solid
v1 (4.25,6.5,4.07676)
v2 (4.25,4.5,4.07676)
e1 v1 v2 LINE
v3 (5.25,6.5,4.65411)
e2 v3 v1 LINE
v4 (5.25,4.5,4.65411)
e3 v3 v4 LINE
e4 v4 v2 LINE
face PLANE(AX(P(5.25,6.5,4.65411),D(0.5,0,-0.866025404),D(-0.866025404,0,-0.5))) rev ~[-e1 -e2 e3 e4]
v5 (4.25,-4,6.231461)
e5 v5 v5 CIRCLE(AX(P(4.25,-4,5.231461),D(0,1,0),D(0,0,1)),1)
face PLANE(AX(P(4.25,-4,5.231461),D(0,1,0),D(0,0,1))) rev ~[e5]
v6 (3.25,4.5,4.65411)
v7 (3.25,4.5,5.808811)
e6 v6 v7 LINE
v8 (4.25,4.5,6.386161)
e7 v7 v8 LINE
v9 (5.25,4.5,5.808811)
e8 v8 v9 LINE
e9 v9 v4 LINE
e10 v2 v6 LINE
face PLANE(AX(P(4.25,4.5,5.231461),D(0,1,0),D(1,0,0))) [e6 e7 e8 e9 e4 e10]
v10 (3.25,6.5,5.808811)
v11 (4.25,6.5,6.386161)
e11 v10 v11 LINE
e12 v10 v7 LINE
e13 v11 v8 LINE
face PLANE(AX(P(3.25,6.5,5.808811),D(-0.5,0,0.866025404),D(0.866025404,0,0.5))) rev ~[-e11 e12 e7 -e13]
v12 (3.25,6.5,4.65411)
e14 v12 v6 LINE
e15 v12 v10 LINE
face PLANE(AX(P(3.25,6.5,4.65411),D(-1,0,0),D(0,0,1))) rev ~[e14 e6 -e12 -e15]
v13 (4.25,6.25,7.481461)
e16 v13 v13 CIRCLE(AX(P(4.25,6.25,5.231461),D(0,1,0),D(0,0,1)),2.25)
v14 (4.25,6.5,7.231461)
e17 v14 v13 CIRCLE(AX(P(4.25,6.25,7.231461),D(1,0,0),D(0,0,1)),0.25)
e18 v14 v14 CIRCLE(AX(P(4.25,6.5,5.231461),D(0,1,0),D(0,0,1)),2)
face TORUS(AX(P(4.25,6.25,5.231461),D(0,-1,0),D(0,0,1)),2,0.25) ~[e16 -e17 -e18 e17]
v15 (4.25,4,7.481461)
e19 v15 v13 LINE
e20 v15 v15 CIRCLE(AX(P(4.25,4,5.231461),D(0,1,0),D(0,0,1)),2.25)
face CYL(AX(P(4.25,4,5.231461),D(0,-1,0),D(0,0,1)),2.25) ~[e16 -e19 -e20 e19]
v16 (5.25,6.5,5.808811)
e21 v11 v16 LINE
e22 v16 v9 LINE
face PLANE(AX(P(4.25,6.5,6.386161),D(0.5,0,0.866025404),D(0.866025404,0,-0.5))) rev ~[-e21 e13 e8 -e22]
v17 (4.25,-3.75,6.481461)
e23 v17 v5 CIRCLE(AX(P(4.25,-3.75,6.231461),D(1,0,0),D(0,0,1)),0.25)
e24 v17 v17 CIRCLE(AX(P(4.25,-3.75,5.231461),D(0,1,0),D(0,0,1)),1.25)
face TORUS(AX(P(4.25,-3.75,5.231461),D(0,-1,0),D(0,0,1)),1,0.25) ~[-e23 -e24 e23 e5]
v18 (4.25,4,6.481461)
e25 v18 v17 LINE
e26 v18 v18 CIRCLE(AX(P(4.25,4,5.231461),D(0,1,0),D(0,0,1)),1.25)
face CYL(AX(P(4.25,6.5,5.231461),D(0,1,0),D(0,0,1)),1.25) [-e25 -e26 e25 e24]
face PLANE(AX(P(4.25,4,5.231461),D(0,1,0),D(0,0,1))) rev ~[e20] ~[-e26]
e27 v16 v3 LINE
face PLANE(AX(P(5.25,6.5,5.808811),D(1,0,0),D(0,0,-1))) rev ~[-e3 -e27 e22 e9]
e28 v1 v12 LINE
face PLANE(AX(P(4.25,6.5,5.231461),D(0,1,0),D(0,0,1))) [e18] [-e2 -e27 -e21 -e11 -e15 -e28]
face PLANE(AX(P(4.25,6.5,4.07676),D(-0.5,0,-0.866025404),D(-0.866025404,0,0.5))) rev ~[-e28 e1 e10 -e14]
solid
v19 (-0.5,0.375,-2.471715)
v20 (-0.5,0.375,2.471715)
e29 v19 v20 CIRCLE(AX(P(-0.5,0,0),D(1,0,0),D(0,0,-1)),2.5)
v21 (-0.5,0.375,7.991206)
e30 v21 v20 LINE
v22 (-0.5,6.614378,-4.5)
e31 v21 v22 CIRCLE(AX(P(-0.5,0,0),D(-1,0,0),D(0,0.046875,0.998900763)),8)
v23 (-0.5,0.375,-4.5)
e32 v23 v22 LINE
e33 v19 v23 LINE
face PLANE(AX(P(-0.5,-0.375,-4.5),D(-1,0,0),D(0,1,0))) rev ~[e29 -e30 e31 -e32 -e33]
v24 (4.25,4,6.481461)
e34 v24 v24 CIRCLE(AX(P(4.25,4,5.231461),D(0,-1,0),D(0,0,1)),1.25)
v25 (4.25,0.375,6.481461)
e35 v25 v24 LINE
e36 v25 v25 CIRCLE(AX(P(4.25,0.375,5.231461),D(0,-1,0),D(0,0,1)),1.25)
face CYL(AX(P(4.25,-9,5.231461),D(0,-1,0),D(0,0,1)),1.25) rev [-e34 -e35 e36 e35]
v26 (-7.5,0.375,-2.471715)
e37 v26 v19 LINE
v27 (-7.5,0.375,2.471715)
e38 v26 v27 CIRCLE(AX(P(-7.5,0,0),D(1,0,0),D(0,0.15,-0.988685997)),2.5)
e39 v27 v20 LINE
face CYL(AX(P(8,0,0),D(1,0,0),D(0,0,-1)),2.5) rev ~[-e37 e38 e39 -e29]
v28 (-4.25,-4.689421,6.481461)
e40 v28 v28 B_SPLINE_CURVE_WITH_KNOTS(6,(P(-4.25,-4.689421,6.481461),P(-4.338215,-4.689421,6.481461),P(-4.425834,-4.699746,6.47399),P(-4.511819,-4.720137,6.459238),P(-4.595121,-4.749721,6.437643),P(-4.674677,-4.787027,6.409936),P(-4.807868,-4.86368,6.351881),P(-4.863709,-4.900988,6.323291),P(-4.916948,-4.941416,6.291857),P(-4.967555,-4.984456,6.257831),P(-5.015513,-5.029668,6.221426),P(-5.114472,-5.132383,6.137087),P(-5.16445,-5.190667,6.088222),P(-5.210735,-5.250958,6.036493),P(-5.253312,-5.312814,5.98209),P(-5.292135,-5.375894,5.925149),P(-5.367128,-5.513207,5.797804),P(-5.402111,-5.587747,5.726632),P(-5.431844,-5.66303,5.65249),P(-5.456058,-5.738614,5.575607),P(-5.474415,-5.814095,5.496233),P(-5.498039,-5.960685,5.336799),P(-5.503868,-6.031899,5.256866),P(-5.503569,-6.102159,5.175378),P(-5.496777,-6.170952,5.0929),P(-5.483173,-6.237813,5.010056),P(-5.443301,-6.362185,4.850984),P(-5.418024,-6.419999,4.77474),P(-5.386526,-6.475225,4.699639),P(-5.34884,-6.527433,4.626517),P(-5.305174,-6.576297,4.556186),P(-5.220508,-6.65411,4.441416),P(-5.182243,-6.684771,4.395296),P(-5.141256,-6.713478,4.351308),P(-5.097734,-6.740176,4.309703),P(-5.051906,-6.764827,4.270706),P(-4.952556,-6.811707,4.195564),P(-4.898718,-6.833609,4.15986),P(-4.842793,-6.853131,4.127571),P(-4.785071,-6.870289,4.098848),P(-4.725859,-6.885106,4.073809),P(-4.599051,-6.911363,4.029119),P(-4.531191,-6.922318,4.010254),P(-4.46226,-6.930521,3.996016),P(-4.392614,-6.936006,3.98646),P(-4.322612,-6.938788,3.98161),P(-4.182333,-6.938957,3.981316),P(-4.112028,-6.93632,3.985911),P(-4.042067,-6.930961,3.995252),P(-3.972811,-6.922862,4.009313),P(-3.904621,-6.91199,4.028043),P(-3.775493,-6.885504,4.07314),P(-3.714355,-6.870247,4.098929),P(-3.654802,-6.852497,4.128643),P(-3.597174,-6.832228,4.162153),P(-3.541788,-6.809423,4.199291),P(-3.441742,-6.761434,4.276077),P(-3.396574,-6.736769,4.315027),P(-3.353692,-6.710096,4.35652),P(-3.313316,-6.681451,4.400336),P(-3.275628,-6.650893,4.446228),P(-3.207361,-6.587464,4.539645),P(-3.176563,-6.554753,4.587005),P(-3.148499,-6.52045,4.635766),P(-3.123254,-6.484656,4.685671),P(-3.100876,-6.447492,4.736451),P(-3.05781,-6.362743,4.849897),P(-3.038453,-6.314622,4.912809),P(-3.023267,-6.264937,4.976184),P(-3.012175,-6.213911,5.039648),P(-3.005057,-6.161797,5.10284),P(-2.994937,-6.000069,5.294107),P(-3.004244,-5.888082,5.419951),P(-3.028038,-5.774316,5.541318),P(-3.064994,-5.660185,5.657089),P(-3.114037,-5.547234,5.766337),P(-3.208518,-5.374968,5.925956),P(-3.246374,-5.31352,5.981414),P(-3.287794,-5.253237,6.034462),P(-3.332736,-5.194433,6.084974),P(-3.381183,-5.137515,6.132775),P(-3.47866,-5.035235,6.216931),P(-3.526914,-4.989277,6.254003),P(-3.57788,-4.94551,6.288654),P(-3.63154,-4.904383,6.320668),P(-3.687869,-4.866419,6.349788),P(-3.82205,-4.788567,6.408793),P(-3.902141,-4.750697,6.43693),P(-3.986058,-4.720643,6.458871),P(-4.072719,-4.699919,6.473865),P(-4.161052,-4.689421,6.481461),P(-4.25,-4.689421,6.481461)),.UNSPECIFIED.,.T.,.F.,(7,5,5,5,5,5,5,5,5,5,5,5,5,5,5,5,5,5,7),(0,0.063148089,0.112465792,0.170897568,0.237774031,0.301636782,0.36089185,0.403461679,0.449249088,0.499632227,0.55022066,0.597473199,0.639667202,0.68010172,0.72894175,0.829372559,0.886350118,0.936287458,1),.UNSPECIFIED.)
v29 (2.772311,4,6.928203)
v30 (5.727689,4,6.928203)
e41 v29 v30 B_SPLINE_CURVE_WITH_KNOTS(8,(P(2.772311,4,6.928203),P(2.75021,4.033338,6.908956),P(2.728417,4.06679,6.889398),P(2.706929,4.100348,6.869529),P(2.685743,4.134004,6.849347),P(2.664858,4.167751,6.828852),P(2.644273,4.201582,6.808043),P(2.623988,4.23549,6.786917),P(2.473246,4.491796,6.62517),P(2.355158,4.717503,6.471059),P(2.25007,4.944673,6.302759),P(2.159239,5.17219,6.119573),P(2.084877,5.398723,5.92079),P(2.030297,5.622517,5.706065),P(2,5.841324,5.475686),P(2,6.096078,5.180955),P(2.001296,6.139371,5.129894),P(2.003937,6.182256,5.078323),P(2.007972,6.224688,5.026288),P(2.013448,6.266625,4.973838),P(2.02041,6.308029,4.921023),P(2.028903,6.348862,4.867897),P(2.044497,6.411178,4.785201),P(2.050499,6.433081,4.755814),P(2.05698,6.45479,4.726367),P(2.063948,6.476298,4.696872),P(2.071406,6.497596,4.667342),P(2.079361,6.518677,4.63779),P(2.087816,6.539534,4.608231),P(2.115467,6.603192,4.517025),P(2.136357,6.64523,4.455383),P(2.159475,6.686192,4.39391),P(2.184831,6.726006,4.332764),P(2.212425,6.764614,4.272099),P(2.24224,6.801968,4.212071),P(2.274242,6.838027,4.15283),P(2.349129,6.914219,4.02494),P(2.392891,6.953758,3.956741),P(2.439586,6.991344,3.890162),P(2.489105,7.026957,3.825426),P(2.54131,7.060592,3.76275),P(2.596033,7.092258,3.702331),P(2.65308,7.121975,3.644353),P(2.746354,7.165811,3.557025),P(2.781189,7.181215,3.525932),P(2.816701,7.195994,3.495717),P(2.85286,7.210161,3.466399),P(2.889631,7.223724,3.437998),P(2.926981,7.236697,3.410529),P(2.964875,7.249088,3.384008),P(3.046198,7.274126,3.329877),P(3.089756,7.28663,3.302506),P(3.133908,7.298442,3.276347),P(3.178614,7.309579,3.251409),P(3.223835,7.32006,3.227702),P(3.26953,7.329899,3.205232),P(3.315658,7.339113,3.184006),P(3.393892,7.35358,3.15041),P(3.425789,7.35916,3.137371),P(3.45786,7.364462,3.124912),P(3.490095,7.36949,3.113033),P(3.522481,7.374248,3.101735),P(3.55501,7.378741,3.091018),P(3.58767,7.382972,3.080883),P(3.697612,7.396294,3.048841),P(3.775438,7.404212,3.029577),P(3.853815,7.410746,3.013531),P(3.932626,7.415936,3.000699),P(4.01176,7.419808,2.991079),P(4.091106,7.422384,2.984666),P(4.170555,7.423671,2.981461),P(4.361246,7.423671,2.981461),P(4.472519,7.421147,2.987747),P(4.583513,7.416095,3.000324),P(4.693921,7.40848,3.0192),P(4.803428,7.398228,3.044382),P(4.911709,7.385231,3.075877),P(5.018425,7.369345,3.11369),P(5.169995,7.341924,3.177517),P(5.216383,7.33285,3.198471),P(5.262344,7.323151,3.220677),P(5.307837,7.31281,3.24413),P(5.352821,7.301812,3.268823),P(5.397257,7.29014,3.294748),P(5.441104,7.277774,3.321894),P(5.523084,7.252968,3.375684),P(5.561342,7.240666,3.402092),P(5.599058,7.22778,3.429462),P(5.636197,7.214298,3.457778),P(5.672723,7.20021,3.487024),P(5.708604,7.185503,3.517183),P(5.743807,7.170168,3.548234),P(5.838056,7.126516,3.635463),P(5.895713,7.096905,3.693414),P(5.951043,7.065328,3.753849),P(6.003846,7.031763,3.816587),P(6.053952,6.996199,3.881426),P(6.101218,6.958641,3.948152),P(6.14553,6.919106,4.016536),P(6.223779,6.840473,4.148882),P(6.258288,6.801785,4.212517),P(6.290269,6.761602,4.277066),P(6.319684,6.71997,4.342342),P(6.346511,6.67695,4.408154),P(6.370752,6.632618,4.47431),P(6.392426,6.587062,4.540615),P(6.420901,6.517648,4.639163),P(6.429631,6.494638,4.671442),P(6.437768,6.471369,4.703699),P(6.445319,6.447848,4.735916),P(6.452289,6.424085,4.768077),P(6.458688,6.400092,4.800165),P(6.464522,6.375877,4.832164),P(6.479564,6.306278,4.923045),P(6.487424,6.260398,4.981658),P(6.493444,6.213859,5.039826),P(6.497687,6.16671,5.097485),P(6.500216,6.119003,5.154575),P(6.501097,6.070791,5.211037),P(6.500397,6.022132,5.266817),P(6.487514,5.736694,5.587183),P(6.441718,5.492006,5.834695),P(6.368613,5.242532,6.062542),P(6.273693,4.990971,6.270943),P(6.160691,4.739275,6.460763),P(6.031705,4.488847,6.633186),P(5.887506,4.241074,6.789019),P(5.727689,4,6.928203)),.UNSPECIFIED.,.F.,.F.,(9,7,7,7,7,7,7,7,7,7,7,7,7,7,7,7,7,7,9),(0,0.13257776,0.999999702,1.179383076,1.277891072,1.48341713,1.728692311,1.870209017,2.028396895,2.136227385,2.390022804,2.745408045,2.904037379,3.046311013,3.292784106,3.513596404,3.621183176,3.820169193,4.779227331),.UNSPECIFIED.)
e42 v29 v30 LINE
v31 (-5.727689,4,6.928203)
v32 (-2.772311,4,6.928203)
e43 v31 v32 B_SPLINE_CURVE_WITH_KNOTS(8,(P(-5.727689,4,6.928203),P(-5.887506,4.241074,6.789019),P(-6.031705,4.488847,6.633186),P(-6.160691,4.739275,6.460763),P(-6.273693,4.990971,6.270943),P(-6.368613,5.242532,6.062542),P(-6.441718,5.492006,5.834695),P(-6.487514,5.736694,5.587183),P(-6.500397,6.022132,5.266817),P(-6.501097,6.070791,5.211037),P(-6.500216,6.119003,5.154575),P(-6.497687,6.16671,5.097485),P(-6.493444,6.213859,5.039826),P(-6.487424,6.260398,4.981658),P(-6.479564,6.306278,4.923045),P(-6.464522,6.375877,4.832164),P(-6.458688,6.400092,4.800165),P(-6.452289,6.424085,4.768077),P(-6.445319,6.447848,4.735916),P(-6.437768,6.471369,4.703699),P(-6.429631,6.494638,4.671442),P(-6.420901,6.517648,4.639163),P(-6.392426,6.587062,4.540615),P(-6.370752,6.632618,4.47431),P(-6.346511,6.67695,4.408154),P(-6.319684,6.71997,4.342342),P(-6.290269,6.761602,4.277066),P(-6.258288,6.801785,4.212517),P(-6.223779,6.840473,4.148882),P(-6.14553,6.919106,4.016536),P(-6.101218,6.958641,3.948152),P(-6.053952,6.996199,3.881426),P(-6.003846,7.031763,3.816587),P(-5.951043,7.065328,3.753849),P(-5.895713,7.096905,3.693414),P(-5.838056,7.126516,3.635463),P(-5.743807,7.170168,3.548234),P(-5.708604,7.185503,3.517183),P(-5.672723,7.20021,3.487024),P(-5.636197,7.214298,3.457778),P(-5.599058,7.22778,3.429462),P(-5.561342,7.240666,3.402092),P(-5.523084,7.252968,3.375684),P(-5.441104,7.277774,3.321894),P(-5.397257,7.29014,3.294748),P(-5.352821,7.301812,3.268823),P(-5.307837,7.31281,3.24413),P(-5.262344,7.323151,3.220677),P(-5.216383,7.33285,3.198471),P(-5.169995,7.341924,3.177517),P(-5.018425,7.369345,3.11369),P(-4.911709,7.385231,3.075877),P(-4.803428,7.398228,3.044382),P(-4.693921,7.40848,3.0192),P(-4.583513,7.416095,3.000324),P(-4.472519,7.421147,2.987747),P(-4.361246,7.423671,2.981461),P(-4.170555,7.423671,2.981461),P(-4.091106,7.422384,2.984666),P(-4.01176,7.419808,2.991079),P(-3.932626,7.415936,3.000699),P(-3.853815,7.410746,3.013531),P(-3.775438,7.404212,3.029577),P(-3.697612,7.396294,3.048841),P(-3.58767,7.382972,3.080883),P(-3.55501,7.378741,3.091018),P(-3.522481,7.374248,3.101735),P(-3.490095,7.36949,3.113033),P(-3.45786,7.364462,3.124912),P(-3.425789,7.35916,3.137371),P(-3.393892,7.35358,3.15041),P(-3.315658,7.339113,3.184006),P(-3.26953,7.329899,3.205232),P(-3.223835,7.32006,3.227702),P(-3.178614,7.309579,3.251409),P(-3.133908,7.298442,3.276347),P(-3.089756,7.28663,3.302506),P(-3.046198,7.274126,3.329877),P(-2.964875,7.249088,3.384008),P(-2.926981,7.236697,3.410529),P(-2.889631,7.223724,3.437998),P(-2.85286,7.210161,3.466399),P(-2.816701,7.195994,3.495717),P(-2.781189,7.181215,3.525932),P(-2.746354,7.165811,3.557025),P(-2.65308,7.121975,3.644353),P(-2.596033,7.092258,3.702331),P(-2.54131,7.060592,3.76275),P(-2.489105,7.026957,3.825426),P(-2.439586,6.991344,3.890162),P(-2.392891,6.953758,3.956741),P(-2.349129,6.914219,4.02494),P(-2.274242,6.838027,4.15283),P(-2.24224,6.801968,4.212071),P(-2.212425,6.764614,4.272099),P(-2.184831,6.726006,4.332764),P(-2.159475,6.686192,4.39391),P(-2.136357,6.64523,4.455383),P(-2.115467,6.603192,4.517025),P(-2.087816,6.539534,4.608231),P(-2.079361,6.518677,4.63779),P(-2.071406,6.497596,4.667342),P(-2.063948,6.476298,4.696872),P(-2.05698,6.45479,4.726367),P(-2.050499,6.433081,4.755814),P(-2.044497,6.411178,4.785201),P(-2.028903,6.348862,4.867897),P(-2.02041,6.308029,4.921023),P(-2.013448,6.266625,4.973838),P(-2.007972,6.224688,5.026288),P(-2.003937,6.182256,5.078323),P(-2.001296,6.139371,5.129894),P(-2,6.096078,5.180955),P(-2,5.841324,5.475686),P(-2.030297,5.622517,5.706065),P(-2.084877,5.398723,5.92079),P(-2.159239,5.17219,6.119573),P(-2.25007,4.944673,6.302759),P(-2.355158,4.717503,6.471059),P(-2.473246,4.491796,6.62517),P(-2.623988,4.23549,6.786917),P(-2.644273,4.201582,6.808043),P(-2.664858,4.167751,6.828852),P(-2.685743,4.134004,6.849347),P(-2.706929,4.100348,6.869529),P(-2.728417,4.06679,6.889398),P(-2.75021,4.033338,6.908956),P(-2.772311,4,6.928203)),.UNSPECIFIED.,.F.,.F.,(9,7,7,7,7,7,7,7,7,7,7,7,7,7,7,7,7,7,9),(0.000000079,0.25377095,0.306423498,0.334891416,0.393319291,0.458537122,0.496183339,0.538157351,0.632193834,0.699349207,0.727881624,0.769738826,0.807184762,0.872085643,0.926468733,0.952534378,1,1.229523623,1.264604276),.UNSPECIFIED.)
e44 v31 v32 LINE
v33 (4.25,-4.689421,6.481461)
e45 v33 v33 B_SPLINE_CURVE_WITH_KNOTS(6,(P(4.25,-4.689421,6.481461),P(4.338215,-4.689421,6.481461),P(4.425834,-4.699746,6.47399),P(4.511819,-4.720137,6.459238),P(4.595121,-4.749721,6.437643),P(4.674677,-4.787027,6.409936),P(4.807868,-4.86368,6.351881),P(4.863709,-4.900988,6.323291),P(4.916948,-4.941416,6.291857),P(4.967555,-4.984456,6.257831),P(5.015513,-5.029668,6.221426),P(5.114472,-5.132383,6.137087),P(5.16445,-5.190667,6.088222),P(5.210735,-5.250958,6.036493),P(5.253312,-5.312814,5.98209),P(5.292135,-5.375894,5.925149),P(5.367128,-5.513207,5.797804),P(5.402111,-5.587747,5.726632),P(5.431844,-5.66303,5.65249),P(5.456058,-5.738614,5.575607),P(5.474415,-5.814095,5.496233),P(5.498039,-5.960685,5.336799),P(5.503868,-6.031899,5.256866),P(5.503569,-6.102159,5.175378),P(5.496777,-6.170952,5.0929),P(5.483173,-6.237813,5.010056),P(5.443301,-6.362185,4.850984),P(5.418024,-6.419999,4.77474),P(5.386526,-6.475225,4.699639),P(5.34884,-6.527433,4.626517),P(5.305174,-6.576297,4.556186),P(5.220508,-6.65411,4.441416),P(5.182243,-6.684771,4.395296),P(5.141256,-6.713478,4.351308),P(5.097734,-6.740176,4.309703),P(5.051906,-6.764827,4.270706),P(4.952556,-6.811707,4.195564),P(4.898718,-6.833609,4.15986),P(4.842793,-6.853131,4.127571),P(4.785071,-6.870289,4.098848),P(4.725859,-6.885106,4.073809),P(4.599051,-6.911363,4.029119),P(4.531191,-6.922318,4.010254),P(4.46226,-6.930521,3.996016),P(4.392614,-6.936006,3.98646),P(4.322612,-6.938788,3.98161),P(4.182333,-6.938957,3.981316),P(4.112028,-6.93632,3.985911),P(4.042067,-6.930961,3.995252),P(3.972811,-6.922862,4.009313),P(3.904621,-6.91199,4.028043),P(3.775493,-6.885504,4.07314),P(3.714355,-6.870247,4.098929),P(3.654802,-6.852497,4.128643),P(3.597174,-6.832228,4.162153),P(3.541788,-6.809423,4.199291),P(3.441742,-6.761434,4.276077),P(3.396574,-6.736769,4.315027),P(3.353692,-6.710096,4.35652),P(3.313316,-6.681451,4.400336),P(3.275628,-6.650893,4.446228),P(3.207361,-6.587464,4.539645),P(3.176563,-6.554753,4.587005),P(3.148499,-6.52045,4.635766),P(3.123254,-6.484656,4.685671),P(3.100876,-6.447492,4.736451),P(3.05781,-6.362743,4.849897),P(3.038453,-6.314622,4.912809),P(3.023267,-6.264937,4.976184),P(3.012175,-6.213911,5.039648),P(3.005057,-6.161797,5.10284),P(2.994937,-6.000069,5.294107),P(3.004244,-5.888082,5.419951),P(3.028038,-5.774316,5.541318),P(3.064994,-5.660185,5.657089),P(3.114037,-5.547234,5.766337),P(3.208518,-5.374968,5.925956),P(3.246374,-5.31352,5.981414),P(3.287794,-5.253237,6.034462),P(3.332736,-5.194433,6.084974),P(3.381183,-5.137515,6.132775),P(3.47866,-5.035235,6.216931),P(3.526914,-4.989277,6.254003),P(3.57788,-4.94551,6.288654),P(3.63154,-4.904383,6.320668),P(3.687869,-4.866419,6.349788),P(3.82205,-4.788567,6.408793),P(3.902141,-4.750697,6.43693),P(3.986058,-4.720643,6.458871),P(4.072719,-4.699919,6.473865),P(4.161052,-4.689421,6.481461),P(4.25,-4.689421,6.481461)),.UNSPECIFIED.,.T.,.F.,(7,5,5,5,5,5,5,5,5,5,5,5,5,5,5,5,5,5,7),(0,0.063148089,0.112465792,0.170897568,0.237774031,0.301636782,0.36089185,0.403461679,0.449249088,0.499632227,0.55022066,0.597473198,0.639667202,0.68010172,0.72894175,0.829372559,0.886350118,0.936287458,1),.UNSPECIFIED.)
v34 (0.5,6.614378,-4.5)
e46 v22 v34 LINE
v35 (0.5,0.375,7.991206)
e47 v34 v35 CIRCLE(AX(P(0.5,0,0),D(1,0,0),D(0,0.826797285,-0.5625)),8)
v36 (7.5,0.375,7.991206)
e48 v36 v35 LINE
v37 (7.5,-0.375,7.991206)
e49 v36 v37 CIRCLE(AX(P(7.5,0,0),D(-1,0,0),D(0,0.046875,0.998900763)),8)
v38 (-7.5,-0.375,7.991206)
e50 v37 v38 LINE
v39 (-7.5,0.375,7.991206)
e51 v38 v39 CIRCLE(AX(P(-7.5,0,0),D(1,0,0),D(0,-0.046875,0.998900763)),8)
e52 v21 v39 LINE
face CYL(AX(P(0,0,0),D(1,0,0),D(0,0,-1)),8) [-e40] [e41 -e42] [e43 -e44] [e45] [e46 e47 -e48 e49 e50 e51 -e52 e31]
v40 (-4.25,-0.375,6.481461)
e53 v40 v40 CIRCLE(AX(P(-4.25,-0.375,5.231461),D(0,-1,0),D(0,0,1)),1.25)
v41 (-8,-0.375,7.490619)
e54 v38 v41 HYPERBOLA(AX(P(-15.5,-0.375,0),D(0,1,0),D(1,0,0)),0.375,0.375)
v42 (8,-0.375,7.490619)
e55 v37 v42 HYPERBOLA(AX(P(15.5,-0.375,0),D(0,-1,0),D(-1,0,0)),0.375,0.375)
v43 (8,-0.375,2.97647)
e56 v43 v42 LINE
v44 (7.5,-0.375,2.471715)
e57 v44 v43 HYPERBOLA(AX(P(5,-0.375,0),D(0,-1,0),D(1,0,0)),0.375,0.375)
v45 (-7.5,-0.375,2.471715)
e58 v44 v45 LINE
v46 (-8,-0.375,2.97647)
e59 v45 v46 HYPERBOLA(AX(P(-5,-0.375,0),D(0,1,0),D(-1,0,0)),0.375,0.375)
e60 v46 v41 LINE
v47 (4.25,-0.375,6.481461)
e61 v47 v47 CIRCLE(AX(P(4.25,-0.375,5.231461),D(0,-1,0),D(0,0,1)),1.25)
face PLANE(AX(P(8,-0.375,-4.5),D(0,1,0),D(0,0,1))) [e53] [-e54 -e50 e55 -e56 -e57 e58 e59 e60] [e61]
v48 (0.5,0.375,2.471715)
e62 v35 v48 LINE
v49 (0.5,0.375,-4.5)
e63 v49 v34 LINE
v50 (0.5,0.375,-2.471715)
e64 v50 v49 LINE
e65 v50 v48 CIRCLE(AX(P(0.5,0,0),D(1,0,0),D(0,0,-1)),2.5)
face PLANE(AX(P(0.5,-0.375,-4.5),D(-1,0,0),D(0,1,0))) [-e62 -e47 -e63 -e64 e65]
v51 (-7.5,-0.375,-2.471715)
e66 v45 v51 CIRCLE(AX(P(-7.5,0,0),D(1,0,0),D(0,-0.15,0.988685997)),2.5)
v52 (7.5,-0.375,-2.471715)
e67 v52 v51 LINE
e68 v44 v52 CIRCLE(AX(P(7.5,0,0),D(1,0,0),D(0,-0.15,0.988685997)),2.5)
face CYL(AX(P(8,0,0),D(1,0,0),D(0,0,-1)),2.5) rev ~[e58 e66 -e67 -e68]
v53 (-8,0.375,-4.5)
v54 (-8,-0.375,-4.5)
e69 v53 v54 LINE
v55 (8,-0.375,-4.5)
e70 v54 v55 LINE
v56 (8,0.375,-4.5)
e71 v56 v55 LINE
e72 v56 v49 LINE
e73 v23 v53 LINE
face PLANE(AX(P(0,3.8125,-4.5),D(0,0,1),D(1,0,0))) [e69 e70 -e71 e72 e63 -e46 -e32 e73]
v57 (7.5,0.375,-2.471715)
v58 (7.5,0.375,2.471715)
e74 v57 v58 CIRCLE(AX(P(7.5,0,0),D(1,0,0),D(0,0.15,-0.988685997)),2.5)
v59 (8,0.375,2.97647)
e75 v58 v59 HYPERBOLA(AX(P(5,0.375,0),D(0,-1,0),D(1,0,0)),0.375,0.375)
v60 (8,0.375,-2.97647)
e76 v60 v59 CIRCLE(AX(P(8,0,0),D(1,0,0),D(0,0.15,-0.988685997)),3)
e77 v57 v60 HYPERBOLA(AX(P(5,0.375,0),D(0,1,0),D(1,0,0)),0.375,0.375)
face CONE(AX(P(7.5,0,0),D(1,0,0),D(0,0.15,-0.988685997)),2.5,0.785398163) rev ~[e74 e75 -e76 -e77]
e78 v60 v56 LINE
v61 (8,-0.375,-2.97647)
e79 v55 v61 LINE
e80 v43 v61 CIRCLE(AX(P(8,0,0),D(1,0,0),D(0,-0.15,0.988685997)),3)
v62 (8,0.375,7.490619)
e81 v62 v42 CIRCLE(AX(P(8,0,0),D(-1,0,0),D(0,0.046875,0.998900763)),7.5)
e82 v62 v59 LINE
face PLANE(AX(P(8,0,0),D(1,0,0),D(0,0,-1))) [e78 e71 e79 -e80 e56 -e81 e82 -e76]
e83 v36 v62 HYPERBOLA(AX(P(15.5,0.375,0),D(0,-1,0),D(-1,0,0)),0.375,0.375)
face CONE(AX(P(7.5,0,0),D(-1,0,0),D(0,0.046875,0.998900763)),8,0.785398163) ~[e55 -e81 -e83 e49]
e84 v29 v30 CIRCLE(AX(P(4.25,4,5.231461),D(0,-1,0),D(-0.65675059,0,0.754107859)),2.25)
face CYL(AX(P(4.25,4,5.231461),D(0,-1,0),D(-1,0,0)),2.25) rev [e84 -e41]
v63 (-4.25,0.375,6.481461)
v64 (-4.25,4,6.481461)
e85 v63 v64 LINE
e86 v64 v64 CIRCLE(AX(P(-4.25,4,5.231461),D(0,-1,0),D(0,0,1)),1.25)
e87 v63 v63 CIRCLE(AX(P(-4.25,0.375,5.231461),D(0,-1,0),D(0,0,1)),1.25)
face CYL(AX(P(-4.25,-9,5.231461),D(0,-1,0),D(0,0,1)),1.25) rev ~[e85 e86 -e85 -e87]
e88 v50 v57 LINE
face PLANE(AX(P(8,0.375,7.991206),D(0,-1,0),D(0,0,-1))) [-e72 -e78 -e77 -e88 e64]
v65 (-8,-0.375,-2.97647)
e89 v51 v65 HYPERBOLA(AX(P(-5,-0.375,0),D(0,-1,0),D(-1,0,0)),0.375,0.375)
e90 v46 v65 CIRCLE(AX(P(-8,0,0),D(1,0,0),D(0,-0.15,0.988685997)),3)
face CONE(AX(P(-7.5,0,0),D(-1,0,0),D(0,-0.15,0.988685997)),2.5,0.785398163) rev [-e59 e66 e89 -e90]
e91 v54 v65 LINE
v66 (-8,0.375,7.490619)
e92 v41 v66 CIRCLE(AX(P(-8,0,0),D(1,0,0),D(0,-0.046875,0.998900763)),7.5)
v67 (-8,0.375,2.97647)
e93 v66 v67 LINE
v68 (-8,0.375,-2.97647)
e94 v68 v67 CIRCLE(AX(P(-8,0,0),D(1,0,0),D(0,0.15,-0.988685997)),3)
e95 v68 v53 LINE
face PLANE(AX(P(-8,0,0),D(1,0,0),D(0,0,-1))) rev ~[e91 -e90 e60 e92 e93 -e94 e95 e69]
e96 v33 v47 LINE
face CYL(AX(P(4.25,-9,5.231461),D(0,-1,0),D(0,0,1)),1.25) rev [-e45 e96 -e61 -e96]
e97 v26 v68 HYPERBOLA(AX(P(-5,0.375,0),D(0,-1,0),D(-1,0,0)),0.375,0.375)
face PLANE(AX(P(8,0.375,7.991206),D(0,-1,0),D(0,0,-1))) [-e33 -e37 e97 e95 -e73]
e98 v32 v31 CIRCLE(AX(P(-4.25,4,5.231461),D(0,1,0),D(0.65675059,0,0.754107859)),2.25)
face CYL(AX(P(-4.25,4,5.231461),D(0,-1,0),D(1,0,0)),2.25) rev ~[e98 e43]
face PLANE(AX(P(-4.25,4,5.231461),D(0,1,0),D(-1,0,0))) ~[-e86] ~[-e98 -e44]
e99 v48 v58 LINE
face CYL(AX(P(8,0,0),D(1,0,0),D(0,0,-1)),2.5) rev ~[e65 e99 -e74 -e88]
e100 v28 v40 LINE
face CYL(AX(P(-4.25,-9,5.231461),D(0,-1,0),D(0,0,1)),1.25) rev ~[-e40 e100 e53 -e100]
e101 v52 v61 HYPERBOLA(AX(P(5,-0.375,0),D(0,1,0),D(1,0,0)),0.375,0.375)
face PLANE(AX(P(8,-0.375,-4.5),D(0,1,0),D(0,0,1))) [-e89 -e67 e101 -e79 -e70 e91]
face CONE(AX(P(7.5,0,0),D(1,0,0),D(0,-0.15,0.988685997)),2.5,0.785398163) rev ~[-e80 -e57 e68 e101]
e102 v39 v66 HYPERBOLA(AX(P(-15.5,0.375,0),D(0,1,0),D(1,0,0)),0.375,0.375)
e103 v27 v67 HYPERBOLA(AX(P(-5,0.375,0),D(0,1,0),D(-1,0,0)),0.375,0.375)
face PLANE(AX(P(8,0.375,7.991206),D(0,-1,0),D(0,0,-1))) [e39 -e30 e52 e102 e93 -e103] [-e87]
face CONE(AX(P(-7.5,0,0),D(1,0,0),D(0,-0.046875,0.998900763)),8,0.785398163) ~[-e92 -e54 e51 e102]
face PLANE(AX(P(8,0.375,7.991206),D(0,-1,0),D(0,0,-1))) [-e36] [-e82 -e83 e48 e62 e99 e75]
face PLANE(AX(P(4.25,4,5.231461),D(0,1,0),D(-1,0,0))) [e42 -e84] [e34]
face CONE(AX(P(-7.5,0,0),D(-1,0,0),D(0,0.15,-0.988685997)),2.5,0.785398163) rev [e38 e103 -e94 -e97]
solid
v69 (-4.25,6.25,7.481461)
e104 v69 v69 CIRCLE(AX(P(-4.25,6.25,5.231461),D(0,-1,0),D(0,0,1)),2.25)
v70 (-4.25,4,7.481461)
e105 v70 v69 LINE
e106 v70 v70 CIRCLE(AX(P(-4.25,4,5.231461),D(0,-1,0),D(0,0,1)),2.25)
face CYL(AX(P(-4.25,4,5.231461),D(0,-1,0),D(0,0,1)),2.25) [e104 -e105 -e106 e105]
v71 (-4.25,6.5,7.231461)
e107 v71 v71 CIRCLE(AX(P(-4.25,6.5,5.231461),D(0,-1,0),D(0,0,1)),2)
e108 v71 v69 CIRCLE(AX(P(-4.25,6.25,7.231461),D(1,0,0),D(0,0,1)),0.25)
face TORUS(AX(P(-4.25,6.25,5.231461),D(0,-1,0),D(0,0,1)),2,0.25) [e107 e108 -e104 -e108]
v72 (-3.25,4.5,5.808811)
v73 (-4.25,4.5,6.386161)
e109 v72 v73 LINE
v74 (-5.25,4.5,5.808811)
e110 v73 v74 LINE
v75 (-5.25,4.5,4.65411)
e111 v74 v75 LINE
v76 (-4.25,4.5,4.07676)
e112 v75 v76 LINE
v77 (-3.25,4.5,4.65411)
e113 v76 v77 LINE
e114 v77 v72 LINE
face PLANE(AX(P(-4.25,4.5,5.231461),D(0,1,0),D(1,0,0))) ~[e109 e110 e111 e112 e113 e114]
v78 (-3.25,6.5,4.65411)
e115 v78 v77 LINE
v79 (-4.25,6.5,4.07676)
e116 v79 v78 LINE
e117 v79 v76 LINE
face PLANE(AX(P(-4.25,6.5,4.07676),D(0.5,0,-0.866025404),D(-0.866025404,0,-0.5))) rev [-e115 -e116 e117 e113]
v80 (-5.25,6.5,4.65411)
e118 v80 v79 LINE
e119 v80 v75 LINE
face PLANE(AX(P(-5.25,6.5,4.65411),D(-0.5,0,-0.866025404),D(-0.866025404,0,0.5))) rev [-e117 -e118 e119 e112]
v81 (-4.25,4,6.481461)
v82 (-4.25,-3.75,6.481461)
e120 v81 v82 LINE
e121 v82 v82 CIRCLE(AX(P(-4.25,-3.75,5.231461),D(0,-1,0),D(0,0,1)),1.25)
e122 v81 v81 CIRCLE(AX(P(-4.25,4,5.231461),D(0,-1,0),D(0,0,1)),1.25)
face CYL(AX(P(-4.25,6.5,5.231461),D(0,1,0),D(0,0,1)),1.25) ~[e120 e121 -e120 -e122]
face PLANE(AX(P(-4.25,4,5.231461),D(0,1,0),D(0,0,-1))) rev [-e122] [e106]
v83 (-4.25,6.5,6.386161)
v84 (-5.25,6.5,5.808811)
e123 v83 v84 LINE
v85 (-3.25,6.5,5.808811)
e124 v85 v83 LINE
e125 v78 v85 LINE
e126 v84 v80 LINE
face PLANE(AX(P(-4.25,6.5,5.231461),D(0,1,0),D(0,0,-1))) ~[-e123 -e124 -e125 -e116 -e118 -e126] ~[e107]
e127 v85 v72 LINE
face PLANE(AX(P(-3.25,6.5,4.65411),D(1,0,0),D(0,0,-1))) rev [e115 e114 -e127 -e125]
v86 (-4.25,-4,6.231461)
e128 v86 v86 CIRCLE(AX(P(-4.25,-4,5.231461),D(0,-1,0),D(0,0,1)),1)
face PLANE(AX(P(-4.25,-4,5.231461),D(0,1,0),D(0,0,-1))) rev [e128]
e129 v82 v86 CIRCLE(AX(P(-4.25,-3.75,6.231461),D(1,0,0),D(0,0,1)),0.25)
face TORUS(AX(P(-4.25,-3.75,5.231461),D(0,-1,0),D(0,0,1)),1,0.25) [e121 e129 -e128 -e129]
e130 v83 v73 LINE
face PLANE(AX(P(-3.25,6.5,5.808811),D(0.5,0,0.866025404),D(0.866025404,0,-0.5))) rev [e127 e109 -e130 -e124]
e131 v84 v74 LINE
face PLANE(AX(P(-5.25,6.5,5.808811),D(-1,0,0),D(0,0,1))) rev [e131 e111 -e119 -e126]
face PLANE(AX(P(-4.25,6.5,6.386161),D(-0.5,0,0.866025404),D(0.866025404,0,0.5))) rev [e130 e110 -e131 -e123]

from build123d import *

# Parameters (mm, degrees)
SKETCH1_R           = 8
BOSS_EXTRUDE1_DEPTH = 8
SKETCH2_R           = 2.5
CUT_EXTRUDE1_DEPTH  = 17
CUT_EXTRUDE2_DEPTH  = 17
SKETCH6_W           = 1
SKETCH6_H           = 8.375
CUT_EXTRUDE3_DEPTH  = 13.491206104
CUT_EXTRUDE4_START  = -8.625
SKETCH7_R           = 1.25
CUT_EXTRUDE4_DEPTH  = 18
SKETCH8_R           = 2.25
CUT_EXTRUDE5_DEPTH  = 5.0000001
SKETCH9_R           = 2.25
BOSS_EXTRUDE2_DEPTH = 2.5
SKETCH10_R          = 1.25
BOSS_EXTRUDE3_DEPTH = 10.5
FILLET1_R           = 0.25
CUT_EXTRUDE6_DEPTH  = 2
CHAMFER1_SIZE       = 0.5


with BuildPart() as part:
    # Sketch1 → Boss-Extrude1 (new body, symmetric)
    with BuildSketch(Plane(origin=(0, 0, 0), x_dir=(0, 0, -1), z_dir=(1, 0, 0))):
        Circle(SKETCH1_R)
    extrude(amount=BOSS_EXTRUDE1_DEPTH, both=True)

    # Sketch2 → Cut-Extrude1 (cut, through all)
    with BuildSketch(Plane(origin=(8, 0, 0), x_dir=(0, 0, -1), z_dir=(1, 0, 0))):
        Circle(SKETCH2_R)
    extrude(amount=-CUT_EXTRUDE1_DEPTH, mode=Mode.SUBTRACT)

    # Sketch5 → Cut-Extrude2 (cut, through all)
    with BuildSketch(Plane(origin=(8, 0, 0), x_dir=(0, 0, -1), z_dir=(1, 0, 0))):
        with BuildLine():
            Line((-7.991206104, 0.375), (4.5, 0.375))
            Line((4.5, 0.375), (4.5, -0.375))
            Line((4.5, -0.375), (-7.991206104, -0.375))
            ThreePointArc((-7.991206104, -0.375), (-8, 0), (-7.991206104, 0.375))
        make_face()
    extrude(amount=-CUT_EXTRUDE2_DEPTH, mode=Mode.SUBTRACT)

    # Sketch6 → Cut-Extrude3 (cut, through all)
    with BuildSketch(Plane.XY.offset(-4.5)):
        with Locations((0, 3.8125)):
            Rectangle(SKETCH6_W, SKETCH6_H)
    extrude(amount=CUT_EXTRUDE3_DEPTH, mode=Mode.SUBTRACT)

    # Sketch7 → Cut-Extrude4 (cut)
    with BuildSketch(Plane(origin=(0, -0.375, 0), x_dir=(1, 0, 0), z_dir=(0, 1, 0)).offset(CUT_EXTRUDE4_START)):
        with Locations(Location((4.25, -5.231460548, 0), (0, 0, 270))):  # turned: the seam where the file's is
            Circle(SKETCH7_R)
    cut_extrude4 = extrude(amount=CUT_EXTRUDE4_DEPTH, mode=Mode.SUBTRACT)

    # Sketch8 → Cut-Extrude5 (cut, through all)
    with BuildSketch(Plane(origin=(0, 4, 0), x_dir=(-1, 0, 0), z_dir=(0, 1, 0))):
        with Locations((-4.25, 5.231460548)):
            Circle(SKETCH8_R)
    cut_extrude5 = extrude(amount=CUT_EXTRUDE5_DEPTH, mode=Mode.SUBTRACT)

    # Mirror1: Cut-Extrude4, Cut-Extrude5 across plane
    add(cut_extrude4.mirror(Plane(origin=(0, 0, 0), x_dir=(0, 0, 1), z_dir=(1, 0, 0))), mode=Mode.SUBTRACT)
    add(cut_extrude5.mirror(Plane(origin=(0, 0, 0), x_dir=(0, 0, 1), z_dir=(1, 0, 0))), mode=Mode.SUBTRACT)

    # Chamfer1
    chamfer1_edges = [part.edges().sort_by_distance(p)[0] for p in [
        (-8, -2.5, 0),
        (8, -2.5, 0),
        (-8, 0, -8),
        (8, 0, -8),
        (-8, 2.5, 0),
        (8, 2.5, 0),
    ]]
    chamfer(chamfer1_edges, length=CHAMFER1_SIZE)


with BuildPart() as body_2:
    # Sketch9 → Boss-Extrude2 (new body)
    with BuildSketch(Plane(origin=(0, 4, 0), x_dir=(1, 0, 0), z_dir=(0, 1, 0))):
        with Locations(Location((4.25, -5.231460548, 0), (0, 0, 270))):  # turned: the seam where the file's is
            Circle(SKETCH9_R)
    extrude(amount=BOSS_EXTRUDE2_DEPTH)

    # Sketch10 → Boss-Extrude3 (add)
    with BuildSketch(Plane(origin=(0, 6.5, 0), x_dir=(1, 0, 0), z_dir=(0, 1, 0))):
        with Locations(Location((4.25, -5.231460548, 0), (0, 0, 270))):  # turned: the seam where the file's is
            Circle(SKETCH10_R)
    extrude(amount=-BOSS_EXTRUDE3_DEPTH)

    # Fillet1
    fillet1_edges = [body_2.edges().sort_by_distance(p)[0] for p in [
        (4.25, 6.5, 2.981460548),
        (4.25, -4, 3.981460548),
    ]]
    fillet(fillet1_edges, radius=FILLET1_R)

    # Sketch11 → Cut-Extrude6 (cut)
    with BuildSketch(Plane(origin=(0, 6.5, 0), x_dir=(1, 0, 0), z_dir=(0, 1, 0))):
        Polygon((4.25, -4.07676001), (3.25, -4.654110279), (3.25, -5.808810817), (4.25, -6.386161086), (5.25, -5.808810817), (5.25, -4.654110279), align=None)
    extrude(amount=-CUT_EXTRUDE6_DEPTH, mode=Mode.SUBTRACT)


with BuildPart() as body_3:
    # Mirror2: mirrored copy
    add(body_2.part.mirror(Plane(origin=(0, 0, 0), x_dir=(0, 0, 1), z_dir=(1, 0, 0))))


solid = Compound([part.part, body_2.part, body_3.part])
